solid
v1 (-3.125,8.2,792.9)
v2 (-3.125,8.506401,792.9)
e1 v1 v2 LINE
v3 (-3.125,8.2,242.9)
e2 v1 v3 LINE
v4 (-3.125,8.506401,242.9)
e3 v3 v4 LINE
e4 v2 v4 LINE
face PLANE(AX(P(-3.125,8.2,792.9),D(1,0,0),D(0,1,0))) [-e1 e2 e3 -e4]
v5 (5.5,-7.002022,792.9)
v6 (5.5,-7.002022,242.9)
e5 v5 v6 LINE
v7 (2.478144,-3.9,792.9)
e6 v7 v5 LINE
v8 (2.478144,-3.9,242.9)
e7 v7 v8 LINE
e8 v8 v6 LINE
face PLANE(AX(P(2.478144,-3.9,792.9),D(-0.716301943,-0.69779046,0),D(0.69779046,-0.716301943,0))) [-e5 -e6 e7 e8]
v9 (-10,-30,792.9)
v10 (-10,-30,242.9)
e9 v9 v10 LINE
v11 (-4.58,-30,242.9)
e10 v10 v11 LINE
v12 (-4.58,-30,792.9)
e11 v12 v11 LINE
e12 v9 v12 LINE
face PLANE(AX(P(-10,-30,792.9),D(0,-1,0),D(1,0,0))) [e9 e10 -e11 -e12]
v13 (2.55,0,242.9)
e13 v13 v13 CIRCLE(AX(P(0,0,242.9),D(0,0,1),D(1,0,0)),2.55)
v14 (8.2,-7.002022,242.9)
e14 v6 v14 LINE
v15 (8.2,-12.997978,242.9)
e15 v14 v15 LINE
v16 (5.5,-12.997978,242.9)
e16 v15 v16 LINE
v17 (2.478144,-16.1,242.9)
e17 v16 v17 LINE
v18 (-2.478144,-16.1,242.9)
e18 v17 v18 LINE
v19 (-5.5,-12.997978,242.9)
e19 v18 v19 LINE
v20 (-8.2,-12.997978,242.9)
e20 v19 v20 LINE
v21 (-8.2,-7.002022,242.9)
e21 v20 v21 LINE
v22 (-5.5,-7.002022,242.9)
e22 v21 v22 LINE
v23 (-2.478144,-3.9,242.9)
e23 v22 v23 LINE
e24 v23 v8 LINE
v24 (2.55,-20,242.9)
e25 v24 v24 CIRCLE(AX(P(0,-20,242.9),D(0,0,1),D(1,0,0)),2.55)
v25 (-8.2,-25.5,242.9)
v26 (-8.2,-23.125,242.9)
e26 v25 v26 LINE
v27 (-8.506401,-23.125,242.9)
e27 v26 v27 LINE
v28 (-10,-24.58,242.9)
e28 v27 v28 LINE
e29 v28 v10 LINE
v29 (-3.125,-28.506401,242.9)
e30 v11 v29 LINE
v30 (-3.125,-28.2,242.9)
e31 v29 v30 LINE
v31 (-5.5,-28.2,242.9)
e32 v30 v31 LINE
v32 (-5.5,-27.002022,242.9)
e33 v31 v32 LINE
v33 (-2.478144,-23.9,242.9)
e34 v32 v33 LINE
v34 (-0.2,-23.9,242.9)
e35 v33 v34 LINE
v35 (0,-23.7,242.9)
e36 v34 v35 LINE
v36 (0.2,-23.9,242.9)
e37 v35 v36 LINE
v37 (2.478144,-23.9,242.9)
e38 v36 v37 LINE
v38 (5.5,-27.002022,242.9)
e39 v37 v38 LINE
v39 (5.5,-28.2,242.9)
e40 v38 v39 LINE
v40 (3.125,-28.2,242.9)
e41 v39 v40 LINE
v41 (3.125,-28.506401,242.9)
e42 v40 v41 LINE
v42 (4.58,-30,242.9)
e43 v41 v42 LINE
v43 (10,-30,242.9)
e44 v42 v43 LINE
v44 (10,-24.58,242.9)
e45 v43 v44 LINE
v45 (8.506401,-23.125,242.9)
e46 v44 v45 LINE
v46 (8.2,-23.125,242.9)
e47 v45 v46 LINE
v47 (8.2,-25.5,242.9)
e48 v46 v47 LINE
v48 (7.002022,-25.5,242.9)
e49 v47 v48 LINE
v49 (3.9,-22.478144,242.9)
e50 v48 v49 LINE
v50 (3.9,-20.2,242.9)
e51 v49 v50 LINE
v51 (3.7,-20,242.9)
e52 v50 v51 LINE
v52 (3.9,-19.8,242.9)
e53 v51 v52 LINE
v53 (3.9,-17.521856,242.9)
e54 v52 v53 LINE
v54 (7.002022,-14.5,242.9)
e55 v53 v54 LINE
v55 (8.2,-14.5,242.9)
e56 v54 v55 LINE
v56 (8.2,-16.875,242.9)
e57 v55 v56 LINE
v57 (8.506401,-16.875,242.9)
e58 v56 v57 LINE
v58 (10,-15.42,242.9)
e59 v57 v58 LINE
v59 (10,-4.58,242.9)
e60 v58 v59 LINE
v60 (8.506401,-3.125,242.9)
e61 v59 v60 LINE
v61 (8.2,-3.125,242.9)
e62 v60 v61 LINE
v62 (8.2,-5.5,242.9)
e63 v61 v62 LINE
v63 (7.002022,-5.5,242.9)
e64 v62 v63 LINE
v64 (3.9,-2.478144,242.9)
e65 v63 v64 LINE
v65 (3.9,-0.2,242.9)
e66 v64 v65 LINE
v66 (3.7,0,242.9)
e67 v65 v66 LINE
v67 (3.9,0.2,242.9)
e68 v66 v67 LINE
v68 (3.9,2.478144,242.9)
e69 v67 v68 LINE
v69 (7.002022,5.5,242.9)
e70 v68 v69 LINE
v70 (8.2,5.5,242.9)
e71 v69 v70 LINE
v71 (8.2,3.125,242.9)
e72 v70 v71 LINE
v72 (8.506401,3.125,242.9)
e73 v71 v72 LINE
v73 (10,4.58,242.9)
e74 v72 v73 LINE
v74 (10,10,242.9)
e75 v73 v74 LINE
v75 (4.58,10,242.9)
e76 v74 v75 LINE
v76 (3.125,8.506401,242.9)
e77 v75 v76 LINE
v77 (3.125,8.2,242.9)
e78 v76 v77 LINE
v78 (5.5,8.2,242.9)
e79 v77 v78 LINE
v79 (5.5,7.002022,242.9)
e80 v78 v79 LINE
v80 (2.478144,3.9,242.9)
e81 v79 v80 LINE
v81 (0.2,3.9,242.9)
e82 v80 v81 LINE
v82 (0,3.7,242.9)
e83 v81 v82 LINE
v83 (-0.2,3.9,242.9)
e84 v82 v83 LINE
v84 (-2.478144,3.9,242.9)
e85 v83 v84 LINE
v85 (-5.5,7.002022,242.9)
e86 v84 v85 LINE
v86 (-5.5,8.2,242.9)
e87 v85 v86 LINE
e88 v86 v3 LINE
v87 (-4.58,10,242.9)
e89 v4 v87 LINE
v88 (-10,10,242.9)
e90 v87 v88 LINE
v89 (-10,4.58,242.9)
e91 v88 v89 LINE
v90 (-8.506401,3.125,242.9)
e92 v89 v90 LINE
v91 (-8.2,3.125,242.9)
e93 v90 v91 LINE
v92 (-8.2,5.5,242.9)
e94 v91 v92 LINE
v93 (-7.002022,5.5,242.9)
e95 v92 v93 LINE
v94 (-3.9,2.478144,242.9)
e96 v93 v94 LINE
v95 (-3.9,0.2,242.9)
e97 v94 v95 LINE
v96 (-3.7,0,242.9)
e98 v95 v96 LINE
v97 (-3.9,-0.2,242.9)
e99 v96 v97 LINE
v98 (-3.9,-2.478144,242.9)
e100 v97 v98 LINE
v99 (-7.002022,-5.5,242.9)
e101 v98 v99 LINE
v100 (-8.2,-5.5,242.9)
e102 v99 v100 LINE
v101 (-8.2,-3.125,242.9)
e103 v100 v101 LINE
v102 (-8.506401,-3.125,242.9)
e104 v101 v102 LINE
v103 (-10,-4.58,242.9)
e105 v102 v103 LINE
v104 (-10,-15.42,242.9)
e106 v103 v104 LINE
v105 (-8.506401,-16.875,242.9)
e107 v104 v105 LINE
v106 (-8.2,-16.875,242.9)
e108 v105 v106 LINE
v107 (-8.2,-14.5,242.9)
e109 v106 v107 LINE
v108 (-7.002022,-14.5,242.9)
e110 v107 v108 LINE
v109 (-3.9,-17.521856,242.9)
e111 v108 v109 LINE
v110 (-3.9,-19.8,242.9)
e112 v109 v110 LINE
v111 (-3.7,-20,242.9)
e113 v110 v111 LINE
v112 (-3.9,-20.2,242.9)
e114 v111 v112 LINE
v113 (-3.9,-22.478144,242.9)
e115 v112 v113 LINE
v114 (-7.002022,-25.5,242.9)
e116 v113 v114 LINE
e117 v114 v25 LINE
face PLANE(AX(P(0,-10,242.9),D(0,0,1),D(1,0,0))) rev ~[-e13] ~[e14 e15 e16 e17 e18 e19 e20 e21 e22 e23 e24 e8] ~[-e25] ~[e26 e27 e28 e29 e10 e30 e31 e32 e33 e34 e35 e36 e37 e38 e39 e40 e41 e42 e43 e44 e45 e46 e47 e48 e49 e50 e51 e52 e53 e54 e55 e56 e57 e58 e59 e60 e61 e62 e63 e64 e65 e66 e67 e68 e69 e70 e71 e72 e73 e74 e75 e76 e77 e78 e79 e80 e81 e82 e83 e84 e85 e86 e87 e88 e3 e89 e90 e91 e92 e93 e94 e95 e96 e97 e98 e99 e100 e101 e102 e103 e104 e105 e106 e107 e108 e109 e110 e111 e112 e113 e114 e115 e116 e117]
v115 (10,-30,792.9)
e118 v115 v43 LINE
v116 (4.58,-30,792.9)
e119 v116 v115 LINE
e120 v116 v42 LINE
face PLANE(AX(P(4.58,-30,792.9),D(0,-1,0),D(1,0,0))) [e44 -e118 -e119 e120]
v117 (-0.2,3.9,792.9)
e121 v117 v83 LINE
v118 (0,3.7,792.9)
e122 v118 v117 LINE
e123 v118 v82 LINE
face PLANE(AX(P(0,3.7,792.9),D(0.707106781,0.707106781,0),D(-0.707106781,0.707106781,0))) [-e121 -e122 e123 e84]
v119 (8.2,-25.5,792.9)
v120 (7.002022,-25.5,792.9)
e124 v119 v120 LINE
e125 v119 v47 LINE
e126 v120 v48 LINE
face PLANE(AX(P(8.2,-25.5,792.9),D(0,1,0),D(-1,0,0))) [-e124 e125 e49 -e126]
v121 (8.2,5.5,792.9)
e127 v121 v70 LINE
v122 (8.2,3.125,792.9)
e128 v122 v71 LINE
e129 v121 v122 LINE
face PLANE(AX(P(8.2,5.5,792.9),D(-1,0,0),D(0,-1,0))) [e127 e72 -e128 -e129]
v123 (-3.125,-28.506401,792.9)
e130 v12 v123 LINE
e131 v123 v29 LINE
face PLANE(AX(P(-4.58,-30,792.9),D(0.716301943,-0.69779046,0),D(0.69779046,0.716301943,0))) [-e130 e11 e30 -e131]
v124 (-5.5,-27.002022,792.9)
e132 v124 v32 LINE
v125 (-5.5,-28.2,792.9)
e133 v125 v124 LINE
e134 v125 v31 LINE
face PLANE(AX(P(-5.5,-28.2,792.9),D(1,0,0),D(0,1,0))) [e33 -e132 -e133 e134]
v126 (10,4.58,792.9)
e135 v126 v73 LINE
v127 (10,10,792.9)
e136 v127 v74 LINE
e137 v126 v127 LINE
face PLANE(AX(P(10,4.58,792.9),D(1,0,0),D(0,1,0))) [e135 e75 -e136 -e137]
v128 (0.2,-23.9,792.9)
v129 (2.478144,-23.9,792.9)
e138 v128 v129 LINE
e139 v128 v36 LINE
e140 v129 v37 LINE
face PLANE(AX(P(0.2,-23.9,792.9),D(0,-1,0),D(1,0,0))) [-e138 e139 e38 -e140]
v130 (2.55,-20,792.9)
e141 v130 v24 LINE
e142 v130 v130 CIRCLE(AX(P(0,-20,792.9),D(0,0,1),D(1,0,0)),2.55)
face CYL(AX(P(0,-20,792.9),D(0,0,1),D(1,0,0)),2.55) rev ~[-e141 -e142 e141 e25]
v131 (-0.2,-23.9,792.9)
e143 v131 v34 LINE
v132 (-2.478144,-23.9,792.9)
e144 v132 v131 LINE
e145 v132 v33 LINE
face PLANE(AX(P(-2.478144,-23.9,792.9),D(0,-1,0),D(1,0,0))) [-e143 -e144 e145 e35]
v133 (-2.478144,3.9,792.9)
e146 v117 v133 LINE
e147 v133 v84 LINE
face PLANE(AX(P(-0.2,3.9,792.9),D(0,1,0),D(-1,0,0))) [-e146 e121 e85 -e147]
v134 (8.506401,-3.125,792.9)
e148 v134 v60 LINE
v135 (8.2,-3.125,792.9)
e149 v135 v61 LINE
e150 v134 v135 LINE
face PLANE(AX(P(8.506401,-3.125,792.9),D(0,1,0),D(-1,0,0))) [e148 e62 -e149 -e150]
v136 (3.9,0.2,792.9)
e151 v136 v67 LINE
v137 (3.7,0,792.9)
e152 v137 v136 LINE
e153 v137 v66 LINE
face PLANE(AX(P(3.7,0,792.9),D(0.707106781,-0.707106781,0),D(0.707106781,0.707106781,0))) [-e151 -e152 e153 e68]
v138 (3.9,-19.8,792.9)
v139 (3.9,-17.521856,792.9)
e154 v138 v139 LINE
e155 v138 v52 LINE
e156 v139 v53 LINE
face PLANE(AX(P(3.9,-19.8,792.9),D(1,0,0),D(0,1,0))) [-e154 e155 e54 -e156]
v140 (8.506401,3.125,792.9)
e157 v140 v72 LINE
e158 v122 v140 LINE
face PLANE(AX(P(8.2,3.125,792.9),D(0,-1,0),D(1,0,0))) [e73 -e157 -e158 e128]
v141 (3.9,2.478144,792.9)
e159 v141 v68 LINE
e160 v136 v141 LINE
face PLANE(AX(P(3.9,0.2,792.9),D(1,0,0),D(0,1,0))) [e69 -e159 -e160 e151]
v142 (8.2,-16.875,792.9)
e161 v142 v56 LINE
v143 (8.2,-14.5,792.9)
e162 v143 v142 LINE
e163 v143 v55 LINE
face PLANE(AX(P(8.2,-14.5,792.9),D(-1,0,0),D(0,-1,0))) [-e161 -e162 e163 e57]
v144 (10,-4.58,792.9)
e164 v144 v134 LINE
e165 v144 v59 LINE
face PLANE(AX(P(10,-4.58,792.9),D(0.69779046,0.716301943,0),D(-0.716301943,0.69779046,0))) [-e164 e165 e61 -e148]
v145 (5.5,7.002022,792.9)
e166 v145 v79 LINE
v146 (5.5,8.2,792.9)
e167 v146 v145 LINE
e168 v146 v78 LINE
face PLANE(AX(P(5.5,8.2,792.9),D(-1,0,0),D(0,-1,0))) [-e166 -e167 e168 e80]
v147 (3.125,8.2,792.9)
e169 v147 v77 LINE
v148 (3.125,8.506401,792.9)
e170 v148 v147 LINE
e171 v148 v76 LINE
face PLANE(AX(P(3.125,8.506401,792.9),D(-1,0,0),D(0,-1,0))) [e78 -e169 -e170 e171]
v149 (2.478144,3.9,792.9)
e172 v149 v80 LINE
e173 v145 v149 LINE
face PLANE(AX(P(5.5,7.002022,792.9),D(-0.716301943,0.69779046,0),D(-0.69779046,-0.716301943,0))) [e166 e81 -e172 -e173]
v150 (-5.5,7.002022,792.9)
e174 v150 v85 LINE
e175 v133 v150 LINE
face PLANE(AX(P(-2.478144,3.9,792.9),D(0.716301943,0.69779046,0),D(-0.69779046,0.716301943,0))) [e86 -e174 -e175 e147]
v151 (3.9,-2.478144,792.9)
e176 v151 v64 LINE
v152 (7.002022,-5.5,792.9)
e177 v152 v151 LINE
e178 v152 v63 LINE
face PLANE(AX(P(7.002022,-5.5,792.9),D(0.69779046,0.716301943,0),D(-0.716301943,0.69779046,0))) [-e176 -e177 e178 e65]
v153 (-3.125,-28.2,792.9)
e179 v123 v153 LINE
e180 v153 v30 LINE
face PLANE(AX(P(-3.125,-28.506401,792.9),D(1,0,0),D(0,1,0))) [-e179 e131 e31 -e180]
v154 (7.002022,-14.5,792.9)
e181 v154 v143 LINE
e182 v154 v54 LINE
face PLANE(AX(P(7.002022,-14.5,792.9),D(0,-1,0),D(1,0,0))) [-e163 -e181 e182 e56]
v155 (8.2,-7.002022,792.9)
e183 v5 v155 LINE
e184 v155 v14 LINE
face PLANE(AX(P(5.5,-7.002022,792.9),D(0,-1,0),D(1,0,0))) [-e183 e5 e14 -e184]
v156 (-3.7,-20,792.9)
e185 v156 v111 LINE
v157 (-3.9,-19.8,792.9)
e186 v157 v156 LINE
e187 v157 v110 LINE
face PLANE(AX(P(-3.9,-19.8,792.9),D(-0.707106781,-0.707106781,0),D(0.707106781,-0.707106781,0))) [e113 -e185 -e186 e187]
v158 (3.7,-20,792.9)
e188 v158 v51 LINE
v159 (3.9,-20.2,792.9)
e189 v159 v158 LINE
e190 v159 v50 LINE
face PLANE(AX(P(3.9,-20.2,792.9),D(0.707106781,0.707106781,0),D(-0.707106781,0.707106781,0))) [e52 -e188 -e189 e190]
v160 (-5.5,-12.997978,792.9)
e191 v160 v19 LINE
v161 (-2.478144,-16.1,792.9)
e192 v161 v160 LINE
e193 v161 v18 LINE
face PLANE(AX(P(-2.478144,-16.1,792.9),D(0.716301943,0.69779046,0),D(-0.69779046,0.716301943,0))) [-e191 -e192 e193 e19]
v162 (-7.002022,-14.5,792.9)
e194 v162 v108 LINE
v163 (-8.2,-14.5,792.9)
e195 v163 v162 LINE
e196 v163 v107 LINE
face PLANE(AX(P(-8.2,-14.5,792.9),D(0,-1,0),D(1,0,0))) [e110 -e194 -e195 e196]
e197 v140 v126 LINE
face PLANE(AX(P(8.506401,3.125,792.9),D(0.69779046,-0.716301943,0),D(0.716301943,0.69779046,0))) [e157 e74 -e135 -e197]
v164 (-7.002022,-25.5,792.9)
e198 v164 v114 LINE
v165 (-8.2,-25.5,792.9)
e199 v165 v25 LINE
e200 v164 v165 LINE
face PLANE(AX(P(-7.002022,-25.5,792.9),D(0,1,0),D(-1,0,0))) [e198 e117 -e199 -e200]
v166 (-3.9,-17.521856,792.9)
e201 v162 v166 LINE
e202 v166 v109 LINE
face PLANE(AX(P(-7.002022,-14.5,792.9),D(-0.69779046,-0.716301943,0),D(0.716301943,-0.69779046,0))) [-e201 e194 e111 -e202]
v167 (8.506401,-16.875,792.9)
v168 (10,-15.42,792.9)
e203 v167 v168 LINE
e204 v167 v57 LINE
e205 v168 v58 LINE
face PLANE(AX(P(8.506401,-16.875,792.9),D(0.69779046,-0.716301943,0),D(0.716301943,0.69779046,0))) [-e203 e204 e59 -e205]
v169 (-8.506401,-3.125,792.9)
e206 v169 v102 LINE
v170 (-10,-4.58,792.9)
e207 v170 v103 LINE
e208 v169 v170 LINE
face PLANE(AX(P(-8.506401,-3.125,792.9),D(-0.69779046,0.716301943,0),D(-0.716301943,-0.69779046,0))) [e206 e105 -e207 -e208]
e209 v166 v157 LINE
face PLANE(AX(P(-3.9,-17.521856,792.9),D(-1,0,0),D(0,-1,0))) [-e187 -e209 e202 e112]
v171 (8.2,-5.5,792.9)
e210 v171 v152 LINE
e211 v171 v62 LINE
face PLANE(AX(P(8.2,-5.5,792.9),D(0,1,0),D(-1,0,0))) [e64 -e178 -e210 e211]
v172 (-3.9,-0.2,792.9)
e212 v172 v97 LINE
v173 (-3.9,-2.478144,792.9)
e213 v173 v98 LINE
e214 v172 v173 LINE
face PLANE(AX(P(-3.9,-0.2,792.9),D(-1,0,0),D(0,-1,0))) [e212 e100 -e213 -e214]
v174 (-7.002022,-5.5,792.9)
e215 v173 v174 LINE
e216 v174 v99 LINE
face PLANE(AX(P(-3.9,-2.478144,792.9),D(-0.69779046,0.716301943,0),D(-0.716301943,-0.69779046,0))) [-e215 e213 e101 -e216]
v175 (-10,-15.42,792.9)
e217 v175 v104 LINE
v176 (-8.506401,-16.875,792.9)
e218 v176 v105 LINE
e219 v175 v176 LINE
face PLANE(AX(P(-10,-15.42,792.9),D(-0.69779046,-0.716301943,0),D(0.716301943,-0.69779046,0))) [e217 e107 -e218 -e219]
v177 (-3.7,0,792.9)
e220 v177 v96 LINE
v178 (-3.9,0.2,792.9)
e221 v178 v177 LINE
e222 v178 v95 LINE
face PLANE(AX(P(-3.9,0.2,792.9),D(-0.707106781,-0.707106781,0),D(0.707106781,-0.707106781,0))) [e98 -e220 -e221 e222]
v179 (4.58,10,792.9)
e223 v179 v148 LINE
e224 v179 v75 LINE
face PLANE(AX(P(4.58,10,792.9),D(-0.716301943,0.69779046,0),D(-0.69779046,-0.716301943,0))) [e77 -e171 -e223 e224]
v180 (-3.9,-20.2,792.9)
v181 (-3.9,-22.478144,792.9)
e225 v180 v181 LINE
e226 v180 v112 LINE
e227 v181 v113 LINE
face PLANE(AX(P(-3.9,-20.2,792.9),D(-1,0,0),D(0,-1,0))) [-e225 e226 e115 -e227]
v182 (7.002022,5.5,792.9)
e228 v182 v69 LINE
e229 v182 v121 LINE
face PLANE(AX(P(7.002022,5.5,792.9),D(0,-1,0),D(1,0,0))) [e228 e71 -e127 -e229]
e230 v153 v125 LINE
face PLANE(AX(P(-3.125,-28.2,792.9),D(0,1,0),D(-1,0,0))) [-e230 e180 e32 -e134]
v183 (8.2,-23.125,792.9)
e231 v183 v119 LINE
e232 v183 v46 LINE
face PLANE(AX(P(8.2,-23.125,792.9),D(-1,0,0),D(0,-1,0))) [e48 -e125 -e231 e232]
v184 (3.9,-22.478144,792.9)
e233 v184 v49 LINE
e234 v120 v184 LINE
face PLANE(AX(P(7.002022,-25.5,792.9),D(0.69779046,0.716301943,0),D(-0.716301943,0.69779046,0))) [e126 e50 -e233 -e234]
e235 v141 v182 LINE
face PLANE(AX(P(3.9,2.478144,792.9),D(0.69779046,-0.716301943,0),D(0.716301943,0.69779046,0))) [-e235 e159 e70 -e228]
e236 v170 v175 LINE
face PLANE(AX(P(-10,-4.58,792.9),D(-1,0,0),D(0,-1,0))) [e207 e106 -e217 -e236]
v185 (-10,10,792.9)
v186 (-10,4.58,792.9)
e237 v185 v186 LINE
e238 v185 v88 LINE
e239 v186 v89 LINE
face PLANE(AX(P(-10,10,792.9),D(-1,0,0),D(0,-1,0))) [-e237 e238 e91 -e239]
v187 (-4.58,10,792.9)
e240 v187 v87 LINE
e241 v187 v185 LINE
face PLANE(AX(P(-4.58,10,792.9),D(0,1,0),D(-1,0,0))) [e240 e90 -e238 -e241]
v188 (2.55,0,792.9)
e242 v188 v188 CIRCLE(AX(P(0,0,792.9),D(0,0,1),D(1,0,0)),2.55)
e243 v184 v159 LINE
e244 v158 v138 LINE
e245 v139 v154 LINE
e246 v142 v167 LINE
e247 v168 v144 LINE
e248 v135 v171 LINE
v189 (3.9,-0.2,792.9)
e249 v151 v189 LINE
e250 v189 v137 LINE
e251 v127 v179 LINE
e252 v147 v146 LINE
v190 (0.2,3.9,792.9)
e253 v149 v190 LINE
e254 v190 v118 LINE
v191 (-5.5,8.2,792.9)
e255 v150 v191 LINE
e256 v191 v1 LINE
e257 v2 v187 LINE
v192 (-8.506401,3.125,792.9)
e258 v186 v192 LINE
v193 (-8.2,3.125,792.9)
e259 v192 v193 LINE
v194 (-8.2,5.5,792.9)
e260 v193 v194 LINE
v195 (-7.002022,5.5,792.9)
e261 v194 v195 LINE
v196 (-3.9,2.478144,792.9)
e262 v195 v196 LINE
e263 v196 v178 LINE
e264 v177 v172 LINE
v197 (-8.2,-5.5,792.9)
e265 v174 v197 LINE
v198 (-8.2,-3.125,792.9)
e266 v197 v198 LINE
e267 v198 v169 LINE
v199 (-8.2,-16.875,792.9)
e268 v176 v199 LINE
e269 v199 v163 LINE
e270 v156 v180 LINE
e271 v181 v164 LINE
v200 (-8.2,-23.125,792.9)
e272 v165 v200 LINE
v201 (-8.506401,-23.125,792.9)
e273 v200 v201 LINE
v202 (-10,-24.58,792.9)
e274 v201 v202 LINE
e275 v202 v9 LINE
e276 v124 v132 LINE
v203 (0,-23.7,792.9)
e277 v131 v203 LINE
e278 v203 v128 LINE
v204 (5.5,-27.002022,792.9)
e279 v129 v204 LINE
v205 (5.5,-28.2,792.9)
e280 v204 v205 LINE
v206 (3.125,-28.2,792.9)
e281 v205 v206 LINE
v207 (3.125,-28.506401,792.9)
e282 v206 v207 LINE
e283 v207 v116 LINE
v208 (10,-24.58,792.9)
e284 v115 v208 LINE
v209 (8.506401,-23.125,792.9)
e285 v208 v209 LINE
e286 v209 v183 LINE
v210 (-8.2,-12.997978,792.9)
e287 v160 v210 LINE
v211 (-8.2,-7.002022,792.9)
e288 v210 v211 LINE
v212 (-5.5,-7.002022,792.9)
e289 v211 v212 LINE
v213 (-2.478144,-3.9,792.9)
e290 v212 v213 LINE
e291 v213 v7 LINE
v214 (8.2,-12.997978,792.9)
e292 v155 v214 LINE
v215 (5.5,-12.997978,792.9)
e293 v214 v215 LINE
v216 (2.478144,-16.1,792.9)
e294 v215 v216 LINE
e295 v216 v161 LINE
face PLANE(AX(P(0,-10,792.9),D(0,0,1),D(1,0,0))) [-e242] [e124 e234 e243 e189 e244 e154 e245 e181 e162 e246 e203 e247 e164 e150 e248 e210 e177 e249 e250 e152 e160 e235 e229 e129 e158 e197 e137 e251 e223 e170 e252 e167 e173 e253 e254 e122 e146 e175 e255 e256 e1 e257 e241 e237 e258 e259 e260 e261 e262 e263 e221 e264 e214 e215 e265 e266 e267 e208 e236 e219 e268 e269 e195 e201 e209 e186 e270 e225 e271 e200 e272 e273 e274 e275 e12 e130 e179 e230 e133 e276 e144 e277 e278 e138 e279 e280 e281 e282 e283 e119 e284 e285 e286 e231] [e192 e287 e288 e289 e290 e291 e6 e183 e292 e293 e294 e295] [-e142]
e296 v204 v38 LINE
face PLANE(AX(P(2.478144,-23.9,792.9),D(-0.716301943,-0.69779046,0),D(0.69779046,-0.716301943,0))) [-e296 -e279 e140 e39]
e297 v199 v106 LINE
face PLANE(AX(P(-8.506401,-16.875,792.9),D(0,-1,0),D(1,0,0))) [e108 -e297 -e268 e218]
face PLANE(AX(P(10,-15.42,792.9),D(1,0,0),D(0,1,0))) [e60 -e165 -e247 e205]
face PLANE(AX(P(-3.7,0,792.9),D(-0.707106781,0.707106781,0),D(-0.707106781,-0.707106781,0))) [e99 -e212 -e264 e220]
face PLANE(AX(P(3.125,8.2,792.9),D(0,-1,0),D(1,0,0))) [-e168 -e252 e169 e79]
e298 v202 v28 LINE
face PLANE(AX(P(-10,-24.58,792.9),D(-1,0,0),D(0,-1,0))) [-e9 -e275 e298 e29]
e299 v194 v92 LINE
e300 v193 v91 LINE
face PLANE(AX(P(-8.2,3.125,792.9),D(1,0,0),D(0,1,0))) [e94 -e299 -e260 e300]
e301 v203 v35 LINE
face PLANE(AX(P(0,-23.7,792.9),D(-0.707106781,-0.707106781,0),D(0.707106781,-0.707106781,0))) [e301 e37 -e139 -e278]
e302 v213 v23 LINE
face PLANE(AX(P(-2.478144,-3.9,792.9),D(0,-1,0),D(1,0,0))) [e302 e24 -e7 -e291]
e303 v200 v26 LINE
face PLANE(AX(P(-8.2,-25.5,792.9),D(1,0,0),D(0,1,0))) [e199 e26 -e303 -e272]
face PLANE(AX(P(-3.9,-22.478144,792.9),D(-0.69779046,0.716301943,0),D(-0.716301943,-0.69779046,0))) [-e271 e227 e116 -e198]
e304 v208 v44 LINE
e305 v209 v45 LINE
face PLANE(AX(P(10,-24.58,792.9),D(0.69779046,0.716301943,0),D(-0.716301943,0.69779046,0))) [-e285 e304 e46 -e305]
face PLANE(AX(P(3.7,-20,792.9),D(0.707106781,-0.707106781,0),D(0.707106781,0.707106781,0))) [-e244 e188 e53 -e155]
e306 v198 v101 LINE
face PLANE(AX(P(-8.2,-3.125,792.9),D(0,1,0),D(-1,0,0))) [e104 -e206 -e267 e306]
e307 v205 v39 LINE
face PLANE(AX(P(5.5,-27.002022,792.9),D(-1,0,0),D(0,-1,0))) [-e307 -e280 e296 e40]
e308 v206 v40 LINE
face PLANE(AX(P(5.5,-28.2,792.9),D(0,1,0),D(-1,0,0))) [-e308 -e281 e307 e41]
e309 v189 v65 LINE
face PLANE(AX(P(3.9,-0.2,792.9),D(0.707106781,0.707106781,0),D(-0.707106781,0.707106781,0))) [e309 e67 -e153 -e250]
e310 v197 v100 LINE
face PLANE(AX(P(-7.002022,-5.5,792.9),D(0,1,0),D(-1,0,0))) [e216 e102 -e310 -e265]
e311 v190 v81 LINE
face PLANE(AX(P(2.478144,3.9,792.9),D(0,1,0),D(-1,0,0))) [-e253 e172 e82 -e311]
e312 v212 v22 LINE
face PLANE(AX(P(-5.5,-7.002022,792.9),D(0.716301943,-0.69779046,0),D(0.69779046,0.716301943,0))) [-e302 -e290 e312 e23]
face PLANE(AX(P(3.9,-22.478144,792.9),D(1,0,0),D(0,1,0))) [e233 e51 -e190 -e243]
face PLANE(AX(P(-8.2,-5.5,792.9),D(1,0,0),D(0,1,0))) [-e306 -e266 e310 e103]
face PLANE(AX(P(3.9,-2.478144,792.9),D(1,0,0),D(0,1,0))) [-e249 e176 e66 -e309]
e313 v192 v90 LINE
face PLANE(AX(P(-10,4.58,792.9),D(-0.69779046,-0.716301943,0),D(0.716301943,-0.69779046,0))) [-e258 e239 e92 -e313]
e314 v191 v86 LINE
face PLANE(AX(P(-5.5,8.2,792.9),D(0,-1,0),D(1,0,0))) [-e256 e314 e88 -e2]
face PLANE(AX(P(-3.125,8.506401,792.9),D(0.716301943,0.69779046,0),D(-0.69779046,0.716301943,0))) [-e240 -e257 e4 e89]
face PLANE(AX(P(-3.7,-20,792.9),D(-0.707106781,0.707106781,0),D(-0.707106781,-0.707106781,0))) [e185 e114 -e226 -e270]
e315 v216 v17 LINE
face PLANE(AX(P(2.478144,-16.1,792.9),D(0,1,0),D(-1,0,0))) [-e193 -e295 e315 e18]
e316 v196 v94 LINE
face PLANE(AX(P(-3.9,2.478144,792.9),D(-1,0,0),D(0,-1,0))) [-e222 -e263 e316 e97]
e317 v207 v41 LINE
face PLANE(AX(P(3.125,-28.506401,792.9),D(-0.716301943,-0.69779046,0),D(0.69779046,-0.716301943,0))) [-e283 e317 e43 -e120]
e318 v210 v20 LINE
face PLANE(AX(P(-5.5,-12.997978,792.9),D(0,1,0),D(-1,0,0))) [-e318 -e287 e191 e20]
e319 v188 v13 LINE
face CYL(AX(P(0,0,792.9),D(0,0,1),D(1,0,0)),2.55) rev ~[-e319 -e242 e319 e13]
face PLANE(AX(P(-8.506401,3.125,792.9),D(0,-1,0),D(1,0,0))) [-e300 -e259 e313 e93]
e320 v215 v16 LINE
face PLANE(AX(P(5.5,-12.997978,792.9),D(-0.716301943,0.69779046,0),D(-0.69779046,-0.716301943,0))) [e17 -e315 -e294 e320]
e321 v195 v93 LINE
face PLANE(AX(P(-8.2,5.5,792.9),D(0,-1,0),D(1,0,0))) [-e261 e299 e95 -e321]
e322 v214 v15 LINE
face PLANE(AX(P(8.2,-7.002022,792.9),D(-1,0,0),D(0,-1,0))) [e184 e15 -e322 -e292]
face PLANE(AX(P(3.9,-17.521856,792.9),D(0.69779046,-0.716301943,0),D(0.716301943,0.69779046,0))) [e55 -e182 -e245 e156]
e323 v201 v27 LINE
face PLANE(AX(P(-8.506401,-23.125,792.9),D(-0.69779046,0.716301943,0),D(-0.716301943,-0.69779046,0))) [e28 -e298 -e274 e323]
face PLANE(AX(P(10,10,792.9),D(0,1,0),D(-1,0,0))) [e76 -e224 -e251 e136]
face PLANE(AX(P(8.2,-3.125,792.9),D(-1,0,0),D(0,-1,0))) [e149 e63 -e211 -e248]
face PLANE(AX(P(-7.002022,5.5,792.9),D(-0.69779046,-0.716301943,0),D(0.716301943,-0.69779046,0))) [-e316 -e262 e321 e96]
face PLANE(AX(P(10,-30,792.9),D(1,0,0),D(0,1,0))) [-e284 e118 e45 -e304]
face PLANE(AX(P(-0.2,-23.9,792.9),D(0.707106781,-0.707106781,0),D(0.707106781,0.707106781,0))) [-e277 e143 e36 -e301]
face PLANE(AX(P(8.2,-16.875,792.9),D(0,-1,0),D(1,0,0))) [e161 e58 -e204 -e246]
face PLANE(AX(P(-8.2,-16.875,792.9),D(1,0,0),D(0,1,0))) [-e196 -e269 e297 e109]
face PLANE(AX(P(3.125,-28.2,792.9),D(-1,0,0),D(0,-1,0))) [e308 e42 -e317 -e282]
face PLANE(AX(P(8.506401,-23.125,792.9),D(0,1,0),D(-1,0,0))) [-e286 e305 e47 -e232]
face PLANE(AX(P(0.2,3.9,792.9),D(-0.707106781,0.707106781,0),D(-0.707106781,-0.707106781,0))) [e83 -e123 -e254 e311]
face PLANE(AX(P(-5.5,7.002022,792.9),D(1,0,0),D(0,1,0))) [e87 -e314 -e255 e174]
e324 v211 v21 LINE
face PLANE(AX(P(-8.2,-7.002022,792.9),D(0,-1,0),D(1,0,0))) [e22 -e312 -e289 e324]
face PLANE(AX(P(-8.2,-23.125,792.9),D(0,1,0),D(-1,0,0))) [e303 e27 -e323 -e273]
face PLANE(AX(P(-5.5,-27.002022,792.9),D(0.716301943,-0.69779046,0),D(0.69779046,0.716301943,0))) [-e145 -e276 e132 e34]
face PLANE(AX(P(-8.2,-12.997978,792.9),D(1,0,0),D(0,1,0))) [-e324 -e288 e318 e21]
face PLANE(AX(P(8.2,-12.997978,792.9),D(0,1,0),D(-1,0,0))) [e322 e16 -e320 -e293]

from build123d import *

# Parameters (mm, degrees)
SKETCH_1_R      = 2.55
EXTRUDE_1_DEPTH = 550


with BuildPart() as part:
    # Эскиз1 → Бобышка-Вытянуть1 (new body)
    with BuildSketch(Plane.XY.offset(792.9)):
        Polygon((-8.2, -3.125), (-8.506400721, -3.125), (-10, -4.58), (-10, -15.42), (-8.506400721, -16.875), (-8.2, -16.875), (-8.2, -14.5), (-7.00202244, -14.5), (-3.9, -17.521856474), (-3.9, -19.8), (-3.7, -20), (-3.9, -20.2), (-3.9, -22.478143526), (-7.00202244, -25.5), (-8.2, -25.5), (-8.2, -23.125), (-8.506400721, -23.125), (-10, -24.58), (-10, -30), (-4.58, -30), (-3.125, -28.506400721), (-3.125, -28.2), (-5.5, -28.2), (-5.5, -27.00202244), (-2.478143526, -23.9), (-0.2, -23.9), (0, -23.7), (0.2, -23.9), (2.478143526, -23.9), (5.5, -27.00202244), (5.5, -28.2), (3.125, -28.2), (3.125, -28.506400721), (4.58, -30), (10, -30), (10, -24.58), (8.506400721, -23.125), (8.2, -23.125), (8.2, -25.5), (7.00202244, -25.5), (3.9, -22.478143526), (3.9, -20.2), (3.7, -20), (3.9, -19.8), (3.9, -17.521856474), (7.00202244, -14.5), (8.2, -14.5), (8.2, -16.875), (8.506400721, -16.875), (10, -15.42), (10, -4.58), (8.506400721, -3.125), (8.2, -3.125), (8.2, -5.5), (7.00202244, -5.5), (3.9, -2.478143526), (3.9, -0.2), (3.7, 0), (3.9, 0.2), (3.9, 2.478143526), (7.00202244, 5.5), (8.2, 5.5), (8.2, 3.125), (8.506400721, 3.125), (10, 4.58), (10, 10), (4.58, 10), (3.125, 8.506400721), (3.125, 8.2), (5.5, 8.2), (5.5, 7.00202244), (2.478143526, 3.9), (0.2, 3.9), (0, 3.7), (-0.2, 3.9), (-2.478143526, 3.9), (-5.5, 7.00202244), (-5.5, 8.2), (-3.125, 8.2), (-3.125, 8.506400721), (-4.58, 10), (-10, 10), (-10, 4.58), (-8.506400721, 3.125), (-8.2, 3.125), (-8.2, 5.5), (-7.00202244, 5.5), (-3.9, 2.478143526), (-3.9, 0.2), (-3.7, 0), (-3.9, -0.2), (-3.9, -2.478143526), (-7.00202244, -5.5), (-8.2, -5.5), align=None)
        Circle(SKETCH_1_R, mode=Mode.SUBTRACT)
        with Locations((0, -20)):
            Circle(SKETCH_1_R, mode=Mode.SUBTRACT)
        Polygon((-2.478143526, -3.9), (2.478143526, -3.9), (5.5, -7.00202244), (8.2, -7.00202244), (8.2, -12.99797756), (5.5, -12.99797756), (2.478143526, -16.1), (-2.478143526, -16.1), (-5.5, -12.99797756), (-8.2, -12.99797756), (-8.2, -7.00202244), (-5.5, -7.00202244), align=None, mode=Mode.SUBTRACT)
    extrude(amount=-EXTRUDE_1_DEPTH)


solid = part.part
